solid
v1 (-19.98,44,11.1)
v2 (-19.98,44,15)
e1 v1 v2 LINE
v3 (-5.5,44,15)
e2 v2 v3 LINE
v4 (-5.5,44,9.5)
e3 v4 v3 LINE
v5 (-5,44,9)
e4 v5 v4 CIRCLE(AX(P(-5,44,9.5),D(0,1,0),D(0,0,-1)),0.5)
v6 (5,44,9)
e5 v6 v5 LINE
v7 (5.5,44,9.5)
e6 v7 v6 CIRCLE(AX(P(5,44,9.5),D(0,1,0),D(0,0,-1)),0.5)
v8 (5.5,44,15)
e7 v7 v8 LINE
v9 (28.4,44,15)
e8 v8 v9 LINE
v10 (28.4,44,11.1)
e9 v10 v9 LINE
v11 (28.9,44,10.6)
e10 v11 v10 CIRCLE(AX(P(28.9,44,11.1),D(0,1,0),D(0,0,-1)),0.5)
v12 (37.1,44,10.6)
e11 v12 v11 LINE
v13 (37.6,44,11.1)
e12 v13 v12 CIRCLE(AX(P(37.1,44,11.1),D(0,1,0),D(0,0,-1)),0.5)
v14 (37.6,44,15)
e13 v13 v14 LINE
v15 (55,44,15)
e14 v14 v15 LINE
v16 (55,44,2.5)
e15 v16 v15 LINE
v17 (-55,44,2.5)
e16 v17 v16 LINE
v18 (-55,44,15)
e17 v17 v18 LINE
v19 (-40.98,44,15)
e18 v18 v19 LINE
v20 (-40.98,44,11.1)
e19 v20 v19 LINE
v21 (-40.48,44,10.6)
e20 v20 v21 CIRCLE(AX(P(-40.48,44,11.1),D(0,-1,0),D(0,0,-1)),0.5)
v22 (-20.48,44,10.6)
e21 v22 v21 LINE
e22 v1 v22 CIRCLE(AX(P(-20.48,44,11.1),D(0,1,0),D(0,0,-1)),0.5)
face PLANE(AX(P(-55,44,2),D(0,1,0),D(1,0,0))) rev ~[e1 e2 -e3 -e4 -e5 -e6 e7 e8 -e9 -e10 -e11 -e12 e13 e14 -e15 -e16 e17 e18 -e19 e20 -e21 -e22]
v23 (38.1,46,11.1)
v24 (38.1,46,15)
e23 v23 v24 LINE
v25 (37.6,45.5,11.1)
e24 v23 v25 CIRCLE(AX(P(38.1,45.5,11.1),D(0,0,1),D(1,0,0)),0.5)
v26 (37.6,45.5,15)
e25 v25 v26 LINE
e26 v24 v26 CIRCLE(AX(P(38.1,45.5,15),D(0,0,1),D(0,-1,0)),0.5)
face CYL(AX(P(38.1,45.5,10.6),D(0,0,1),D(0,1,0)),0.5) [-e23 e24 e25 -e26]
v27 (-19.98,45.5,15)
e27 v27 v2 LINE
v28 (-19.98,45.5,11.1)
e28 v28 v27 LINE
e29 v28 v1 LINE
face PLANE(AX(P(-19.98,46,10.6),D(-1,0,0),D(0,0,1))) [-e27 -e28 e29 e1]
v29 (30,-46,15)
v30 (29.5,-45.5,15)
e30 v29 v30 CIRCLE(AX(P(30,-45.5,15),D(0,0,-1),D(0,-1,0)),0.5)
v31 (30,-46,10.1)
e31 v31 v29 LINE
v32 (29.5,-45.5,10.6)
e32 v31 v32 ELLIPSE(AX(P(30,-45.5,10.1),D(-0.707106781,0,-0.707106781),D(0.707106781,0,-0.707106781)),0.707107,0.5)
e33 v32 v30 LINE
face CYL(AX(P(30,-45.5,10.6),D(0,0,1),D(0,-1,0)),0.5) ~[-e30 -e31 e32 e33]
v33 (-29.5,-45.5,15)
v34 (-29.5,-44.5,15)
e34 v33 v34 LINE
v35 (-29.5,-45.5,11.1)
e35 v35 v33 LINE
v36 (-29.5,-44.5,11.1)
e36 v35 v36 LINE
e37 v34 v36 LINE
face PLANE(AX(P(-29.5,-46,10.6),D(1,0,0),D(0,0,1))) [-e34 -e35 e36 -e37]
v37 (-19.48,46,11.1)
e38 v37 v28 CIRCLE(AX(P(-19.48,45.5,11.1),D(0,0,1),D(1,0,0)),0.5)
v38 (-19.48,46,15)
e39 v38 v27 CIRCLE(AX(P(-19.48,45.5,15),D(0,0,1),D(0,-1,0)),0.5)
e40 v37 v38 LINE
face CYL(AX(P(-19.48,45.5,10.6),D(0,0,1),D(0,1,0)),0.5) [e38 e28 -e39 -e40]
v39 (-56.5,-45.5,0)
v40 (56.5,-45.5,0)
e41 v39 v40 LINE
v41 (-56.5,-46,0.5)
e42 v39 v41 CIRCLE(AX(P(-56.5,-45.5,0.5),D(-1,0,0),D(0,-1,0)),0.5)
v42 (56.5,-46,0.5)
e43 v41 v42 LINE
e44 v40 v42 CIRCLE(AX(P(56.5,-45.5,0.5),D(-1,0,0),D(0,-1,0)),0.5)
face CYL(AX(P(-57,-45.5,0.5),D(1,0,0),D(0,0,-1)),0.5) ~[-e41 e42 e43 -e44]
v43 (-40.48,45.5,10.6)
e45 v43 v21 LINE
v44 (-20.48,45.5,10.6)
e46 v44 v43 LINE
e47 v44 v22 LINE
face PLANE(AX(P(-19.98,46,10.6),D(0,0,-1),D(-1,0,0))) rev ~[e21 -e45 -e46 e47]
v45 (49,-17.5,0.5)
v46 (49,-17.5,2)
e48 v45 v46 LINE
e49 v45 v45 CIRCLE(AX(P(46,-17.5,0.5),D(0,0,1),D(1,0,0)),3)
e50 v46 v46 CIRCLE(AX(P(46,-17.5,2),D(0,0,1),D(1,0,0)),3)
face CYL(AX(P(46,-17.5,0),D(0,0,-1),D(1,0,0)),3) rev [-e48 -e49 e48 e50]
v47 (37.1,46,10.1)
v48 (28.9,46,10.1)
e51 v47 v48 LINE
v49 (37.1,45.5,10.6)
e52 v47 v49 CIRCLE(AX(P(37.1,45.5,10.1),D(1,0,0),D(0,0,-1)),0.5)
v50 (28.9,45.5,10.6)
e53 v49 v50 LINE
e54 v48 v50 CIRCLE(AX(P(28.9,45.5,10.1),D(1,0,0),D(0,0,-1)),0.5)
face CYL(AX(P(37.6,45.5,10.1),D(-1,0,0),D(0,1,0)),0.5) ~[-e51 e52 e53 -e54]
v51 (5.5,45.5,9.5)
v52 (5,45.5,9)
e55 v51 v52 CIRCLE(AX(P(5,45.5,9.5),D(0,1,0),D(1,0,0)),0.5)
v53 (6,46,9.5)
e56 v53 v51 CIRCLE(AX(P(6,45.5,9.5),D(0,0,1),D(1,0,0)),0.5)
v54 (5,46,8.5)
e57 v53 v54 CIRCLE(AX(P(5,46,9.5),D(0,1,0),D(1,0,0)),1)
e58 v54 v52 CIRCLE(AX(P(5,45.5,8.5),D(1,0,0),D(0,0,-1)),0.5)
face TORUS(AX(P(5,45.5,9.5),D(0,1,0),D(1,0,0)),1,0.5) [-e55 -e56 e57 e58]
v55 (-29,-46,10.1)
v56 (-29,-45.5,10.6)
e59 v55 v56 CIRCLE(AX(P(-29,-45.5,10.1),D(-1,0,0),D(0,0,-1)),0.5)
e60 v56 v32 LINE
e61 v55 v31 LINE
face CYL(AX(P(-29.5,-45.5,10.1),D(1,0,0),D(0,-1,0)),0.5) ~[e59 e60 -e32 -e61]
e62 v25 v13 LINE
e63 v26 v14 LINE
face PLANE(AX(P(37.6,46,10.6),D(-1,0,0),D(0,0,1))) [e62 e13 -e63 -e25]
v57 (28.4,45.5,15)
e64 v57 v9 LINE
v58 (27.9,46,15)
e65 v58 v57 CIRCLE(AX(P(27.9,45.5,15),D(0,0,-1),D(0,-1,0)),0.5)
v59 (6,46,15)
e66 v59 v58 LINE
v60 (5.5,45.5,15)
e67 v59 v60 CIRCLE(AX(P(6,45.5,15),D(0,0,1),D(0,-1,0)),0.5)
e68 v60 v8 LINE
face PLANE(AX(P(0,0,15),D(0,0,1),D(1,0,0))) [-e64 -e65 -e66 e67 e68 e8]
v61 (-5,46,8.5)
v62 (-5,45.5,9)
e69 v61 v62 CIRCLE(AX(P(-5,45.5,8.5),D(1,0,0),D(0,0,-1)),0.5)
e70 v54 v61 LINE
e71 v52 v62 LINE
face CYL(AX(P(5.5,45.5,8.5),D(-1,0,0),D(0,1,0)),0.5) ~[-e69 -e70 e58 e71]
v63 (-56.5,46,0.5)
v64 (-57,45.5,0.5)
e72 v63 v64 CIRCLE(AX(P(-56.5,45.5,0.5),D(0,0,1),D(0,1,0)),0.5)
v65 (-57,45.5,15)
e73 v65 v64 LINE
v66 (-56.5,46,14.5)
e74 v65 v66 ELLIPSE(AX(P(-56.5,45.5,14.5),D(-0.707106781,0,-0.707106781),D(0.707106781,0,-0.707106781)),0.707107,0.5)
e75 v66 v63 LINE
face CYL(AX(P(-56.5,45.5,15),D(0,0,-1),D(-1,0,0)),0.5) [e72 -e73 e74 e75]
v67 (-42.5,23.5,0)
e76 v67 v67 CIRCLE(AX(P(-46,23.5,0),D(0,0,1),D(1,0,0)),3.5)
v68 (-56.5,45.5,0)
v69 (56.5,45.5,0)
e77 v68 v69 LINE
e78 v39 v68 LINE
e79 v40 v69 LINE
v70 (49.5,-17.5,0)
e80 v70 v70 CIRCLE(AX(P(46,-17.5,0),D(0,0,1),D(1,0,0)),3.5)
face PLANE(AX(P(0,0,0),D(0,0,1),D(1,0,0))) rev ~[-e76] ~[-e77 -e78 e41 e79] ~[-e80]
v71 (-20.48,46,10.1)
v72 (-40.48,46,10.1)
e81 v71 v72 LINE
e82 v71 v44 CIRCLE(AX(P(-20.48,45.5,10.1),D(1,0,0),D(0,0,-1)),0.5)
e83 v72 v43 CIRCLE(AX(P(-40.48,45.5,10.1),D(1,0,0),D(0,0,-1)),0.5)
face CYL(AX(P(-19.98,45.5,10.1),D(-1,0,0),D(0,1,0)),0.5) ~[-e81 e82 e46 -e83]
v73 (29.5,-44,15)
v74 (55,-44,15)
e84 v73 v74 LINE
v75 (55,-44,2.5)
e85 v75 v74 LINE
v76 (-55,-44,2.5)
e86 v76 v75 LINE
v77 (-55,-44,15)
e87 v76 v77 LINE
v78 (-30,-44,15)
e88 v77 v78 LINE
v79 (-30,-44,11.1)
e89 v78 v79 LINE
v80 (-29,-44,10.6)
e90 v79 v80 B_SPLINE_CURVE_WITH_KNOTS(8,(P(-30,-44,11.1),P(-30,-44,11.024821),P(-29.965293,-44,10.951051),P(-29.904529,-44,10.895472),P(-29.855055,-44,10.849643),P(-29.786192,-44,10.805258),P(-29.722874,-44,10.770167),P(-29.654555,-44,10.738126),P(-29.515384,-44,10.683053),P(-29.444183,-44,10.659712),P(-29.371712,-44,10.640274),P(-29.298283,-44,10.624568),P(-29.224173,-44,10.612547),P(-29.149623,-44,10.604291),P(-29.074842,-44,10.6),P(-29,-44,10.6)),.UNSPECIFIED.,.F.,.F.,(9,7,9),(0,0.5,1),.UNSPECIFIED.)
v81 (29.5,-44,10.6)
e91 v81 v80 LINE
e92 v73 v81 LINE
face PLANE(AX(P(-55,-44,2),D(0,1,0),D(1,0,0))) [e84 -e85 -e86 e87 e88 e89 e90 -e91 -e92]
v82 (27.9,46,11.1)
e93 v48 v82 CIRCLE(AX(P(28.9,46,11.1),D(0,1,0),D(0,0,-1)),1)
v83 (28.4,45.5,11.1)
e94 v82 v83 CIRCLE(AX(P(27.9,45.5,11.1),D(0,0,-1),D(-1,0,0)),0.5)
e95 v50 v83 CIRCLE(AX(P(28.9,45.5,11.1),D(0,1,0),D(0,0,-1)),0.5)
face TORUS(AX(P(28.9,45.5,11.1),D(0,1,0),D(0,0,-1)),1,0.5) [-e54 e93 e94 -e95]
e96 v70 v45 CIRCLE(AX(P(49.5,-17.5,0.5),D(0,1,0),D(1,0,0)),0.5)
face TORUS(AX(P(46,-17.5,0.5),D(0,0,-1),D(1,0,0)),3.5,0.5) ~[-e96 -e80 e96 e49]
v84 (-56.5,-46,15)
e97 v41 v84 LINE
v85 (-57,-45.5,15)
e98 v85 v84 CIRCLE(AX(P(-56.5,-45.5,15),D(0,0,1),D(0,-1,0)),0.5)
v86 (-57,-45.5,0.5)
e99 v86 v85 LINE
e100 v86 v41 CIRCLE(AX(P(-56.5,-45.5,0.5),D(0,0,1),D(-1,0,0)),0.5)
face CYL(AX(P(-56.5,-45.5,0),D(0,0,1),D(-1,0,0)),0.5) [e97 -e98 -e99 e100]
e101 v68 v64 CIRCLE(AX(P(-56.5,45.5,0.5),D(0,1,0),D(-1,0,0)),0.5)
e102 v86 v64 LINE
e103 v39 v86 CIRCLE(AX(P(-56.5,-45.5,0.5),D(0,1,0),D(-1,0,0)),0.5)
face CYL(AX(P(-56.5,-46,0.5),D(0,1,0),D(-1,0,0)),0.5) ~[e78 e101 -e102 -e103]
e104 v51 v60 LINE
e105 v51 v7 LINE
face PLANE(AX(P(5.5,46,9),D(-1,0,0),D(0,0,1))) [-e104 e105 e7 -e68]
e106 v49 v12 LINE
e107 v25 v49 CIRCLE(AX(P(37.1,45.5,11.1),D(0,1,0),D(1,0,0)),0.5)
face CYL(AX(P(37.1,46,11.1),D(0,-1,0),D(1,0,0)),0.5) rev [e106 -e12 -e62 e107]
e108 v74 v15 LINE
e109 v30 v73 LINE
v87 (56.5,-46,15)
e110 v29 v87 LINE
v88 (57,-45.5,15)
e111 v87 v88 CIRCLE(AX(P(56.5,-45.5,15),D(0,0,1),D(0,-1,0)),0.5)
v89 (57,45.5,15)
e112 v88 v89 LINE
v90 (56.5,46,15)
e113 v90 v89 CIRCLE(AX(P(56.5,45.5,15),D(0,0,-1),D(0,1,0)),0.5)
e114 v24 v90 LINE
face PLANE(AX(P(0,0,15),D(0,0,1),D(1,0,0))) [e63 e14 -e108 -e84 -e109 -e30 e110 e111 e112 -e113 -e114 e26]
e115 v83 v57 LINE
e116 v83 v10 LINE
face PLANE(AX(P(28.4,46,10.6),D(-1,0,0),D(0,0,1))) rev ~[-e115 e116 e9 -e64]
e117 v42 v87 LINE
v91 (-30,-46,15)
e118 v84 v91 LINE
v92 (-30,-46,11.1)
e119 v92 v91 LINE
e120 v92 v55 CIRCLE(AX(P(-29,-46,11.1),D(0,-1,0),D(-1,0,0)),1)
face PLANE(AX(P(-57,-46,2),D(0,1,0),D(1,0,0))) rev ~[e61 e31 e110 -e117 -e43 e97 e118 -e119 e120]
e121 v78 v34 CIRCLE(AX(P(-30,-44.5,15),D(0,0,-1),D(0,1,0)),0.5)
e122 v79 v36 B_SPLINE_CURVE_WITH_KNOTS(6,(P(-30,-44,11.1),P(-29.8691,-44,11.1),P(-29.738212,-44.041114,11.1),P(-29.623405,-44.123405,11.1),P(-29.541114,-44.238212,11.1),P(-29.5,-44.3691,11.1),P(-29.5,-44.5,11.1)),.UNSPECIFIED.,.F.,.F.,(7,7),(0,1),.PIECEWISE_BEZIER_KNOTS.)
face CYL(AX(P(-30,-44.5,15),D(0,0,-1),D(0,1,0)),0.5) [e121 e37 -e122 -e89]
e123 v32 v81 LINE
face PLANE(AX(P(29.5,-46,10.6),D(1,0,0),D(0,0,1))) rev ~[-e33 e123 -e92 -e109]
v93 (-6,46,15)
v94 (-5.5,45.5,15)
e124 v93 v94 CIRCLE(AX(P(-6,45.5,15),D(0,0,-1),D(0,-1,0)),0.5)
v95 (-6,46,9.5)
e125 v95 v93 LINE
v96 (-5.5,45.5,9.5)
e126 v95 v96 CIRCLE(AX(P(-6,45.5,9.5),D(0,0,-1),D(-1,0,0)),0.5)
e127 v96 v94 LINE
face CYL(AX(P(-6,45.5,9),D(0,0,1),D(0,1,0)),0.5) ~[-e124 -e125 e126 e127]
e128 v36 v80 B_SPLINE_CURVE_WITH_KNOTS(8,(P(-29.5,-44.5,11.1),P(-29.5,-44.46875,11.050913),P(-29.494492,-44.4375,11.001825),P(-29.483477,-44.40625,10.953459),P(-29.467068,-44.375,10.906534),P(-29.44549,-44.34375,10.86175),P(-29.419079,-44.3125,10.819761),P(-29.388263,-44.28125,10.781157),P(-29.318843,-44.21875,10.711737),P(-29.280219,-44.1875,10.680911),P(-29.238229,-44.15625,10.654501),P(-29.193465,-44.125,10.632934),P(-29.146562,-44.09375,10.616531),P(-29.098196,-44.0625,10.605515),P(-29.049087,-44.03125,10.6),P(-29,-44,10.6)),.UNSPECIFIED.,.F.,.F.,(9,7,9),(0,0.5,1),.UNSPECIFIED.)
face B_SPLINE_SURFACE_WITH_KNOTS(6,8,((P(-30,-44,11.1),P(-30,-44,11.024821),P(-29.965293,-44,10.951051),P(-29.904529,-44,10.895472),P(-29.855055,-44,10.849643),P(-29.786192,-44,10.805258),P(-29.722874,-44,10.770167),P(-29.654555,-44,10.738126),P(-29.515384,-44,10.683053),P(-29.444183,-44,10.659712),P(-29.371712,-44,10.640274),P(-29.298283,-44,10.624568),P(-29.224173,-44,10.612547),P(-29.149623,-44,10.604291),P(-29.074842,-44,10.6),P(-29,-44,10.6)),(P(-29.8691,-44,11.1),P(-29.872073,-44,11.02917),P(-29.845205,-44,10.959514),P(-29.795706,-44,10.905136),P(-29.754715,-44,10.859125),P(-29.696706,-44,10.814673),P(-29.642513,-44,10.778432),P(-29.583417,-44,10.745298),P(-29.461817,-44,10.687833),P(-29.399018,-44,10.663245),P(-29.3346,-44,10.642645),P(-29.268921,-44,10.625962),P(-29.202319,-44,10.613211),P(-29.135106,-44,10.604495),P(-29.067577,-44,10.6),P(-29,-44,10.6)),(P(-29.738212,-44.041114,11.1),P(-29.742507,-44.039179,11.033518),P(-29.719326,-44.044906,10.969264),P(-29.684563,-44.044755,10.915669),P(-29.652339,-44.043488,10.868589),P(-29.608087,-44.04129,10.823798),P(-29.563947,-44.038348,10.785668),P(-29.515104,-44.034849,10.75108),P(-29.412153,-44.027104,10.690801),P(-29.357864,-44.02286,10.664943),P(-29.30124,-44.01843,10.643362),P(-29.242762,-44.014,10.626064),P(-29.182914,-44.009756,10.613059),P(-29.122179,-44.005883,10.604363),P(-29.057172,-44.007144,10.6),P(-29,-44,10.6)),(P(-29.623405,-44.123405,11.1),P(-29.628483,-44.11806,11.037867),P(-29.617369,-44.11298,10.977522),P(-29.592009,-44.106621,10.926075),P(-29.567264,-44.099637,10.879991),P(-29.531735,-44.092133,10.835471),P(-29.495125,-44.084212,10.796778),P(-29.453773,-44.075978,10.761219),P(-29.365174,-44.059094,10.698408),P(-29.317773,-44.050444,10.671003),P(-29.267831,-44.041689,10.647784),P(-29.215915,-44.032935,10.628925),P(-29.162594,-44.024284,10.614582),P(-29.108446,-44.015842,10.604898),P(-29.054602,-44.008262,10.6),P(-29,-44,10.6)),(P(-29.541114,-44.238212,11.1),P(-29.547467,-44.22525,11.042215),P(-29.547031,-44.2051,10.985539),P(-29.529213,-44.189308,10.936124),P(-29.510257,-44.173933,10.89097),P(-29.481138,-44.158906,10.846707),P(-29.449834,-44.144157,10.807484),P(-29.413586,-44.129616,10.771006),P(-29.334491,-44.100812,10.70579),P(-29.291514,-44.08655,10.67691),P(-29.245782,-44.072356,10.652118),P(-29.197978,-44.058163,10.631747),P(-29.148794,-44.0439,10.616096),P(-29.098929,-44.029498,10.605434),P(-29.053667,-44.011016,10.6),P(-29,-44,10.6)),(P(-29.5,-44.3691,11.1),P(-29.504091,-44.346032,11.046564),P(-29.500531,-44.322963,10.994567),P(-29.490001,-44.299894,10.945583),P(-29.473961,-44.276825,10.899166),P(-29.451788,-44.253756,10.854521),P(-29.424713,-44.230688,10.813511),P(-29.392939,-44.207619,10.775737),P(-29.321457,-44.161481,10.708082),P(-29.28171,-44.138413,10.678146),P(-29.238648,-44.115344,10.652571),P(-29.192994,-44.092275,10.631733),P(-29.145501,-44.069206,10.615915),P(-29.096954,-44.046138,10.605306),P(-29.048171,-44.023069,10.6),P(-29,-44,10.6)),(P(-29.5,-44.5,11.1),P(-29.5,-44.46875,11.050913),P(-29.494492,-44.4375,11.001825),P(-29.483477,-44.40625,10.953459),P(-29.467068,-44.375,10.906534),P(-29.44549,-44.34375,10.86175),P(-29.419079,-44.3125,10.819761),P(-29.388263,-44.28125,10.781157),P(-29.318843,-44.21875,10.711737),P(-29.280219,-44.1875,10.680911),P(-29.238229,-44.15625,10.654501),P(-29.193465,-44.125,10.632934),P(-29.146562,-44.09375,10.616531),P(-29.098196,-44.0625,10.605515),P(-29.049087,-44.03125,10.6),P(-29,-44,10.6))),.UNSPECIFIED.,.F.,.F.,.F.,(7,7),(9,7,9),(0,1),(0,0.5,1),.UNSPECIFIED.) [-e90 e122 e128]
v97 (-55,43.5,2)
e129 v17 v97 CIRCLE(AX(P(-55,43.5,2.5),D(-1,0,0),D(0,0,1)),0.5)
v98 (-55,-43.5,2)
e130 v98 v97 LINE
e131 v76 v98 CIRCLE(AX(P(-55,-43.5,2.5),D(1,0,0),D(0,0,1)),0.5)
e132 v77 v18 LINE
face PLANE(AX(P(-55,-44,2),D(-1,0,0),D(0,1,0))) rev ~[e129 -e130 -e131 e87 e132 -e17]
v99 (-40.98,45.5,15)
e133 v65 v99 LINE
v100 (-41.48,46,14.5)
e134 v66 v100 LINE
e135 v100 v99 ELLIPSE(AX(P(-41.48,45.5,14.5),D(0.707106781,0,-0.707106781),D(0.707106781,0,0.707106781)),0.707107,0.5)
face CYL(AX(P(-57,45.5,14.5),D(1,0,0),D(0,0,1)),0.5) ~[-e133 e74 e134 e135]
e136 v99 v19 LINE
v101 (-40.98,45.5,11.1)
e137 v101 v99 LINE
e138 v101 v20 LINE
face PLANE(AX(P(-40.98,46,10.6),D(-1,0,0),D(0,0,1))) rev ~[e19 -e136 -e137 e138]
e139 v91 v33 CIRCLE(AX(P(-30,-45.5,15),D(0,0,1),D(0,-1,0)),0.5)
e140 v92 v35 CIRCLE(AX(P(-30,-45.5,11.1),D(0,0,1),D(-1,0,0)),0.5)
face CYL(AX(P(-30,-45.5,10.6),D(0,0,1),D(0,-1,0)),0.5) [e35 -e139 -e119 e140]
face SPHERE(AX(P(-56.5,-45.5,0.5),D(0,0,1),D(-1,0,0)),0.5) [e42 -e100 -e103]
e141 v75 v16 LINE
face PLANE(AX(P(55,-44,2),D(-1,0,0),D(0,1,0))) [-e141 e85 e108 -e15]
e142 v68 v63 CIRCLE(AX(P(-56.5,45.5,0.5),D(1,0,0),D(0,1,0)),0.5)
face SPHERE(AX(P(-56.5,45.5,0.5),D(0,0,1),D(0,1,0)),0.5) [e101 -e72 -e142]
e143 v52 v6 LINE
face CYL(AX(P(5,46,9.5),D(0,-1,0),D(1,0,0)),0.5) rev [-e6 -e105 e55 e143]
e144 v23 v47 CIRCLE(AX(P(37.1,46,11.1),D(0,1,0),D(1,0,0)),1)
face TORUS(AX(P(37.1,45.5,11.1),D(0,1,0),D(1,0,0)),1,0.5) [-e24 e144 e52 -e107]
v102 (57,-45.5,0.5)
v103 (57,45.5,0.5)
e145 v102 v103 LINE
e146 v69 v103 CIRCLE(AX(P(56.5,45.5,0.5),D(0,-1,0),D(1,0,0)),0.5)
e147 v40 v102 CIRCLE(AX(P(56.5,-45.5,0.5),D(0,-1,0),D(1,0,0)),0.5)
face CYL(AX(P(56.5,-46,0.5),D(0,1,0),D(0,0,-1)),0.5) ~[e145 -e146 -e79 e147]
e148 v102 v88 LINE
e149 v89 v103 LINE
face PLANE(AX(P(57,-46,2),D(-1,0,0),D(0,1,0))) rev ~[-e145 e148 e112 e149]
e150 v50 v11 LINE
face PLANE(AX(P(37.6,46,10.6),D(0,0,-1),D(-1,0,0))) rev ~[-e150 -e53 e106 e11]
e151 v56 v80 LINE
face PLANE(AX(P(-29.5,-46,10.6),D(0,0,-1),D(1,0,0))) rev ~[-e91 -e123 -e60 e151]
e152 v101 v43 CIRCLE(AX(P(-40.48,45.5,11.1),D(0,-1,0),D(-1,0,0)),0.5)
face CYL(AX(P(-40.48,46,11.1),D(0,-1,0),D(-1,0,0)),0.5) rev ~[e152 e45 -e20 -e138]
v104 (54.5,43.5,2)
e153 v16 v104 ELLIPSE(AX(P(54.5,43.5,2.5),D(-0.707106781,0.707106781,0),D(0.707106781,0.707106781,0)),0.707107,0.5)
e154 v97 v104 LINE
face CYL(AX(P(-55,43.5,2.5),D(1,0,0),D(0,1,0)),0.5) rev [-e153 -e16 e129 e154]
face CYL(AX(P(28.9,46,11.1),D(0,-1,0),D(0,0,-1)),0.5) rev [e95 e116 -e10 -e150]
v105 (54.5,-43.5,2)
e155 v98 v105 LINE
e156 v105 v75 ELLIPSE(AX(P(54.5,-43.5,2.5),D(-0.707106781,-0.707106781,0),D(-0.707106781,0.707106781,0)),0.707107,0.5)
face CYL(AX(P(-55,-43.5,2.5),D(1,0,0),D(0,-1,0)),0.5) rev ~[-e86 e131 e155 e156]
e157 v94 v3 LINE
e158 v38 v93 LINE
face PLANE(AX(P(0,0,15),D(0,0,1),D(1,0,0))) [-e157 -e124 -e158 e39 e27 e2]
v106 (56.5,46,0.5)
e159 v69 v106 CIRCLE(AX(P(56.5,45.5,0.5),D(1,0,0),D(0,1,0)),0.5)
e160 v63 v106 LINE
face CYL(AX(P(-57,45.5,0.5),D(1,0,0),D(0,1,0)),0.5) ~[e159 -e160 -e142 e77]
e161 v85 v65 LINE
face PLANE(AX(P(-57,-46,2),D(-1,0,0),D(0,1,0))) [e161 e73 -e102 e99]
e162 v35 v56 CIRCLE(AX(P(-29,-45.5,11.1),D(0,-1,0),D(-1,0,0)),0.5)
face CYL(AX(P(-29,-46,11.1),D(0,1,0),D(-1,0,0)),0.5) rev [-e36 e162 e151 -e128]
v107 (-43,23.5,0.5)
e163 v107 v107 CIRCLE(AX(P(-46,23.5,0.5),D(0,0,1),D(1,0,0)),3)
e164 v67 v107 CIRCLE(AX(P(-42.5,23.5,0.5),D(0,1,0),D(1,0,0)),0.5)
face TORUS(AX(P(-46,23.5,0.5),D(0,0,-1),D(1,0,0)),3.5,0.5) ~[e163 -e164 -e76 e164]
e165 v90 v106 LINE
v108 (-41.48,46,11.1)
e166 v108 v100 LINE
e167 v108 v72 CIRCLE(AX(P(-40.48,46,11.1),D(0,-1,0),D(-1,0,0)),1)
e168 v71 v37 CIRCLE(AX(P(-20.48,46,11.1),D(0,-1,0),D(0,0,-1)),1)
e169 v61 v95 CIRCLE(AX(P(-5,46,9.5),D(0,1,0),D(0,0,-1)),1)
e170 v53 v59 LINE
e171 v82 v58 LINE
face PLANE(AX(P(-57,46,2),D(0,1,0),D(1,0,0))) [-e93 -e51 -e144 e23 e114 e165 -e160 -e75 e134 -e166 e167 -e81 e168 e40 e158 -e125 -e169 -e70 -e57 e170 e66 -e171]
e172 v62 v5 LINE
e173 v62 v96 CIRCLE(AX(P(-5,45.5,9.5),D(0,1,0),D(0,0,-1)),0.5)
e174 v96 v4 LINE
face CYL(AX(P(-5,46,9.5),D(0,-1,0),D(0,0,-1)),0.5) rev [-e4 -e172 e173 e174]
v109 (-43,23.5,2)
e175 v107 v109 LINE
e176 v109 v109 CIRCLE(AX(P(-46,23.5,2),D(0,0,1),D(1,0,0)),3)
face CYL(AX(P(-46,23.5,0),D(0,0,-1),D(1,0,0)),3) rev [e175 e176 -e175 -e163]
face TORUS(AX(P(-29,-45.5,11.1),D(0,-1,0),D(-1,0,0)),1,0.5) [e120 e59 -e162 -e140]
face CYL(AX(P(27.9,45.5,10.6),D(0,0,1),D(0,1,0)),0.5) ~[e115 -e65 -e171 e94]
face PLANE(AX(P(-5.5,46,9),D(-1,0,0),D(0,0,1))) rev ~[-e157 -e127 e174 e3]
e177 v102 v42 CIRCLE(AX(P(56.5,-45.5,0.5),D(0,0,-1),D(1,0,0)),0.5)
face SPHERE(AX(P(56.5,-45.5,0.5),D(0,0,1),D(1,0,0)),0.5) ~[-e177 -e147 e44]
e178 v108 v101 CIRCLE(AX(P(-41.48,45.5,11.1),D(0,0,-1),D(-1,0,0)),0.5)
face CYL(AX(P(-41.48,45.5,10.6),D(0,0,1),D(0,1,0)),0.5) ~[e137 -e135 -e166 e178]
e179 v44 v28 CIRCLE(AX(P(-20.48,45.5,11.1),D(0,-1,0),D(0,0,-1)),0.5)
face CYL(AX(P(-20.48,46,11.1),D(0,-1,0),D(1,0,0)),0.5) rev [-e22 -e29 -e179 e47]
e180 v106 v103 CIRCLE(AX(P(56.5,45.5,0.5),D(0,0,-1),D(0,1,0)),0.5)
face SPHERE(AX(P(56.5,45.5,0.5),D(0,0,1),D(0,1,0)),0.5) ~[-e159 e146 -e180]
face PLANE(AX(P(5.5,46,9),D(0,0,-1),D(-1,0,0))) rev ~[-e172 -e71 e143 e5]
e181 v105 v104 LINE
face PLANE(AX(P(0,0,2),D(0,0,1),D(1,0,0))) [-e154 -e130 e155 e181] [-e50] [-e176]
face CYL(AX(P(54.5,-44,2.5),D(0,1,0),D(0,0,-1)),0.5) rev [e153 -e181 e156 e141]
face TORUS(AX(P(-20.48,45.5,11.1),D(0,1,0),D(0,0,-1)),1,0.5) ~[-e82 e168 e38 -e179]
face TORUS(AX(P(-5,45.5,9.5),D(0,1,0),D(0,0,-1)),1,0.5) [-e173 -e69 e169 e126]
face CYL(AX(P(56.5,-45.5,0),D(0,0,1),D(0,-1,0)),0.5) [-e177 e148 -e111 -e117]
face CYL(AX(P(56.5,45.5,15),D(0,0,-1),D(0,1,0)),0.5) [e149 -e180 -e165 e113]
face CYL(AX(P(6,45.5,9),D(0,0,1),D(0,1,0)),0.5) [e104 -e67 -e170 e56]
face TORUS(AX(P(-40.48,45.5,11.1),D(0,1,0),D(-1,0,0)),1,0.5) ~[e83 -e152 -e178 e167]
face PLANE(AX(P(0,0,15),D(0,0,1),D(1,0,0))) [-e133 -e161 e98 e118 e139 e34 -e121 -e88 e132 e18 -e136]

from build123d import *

# Parameters (mm, degrees)
SKETCH_W        = 114
SKETCH_H        = 92
SKETCH_R        = 3
PAD_DEPTH       = 2
SKETCH001_W     = 114
SKETCH001_H     = 92
SKETCH001_W_2   = 110
SKETCH001_H_2   = 88
PAD001_DEPTH    = 13
SKETCH003_W     = 59
SKETCH003_H     = 10
POCKET_DEPTH    = 5
SKETCH004_W     = 11
SKETCH004_H     = 6.2
POCKET001_DEPTH = 5
SKETCH005_W     = 21
SKETCH005_H     = 21
POCKET002_DEPTH = 5
SKETCH006_W     = 9.2
SKETCH006_H     = 11
POCKET003_DEPTH = 5
FILLET_R        = 0.5


with BuildPart() as part:
    # Sketch → Pad (new body)
    with BuildSketch(Plane.XY):
        Rectangle(SKETCH_W, SKETCH_H)
        with Locations((-46, 23.5)):
            Circle(SKETCH_R, mode=Mode.SUBTRACT)
        with Locations((46, -17.5)):
            Circle(SKETCH_R, mode=Mode.SUBTRACT)
    extrude(amount=PAD_DEPTH)

    # Sketch001 (on Face8 of Pad) → Pad001 (join)
    with BuildSketch(Plane.XY.offset(2)):
        Rectangle(SKETCH001_W, SKETCH001_H)
        Rectangle(SKETCH001_W_2, SKETCH001_H_2, mode=Mode.SUBTRACT)
    extrude(amount=PAD001_DEPTH)

    # Sketch003 (on Face12 of Pad001) → Pocket (cut)
    with BuildSketch(Plane.XZ.offset(46)):
        with Locations((0, 15.6)):
            Rectangle(SKETCH003_W, SKETCH003_H)
    extrude(amount=-POCKET_DEPTH, mode=Mode.SUBTRACT)

    # Sketch004 (on Face5 of Pocket) → Pocket001 (cut)
    with BuildSketch(Plane(origin=(0, 46, 0), x_dir=(-1, 0, 0), z_dir=(0, 1, 0))):
        with Locations((0, 12.1)):
            Rectangle(SKETCH004_W, SKETCH004_H)
    extrude(amount=-POCKET001_DEPTH, mode=Mode.SUBTRACT)

    # Sketch005 (on Face5 of Pocket001) → Pocket002 (cut)
    with BuildSketch(Plane(origin=(0, 46, 0), x_dir=(-1, 0, 0), z_dir=(0, 1, 0))):
        with Locations((30.48, 21.1)):
            Rectangle(SKETCH005_W, SKETCH005_H)
    extrude(amount=-POCKET002_DEPTH, mode=Mode.SUBTRACT)

    # Sketch006 (on Face5 of Pocket002) → Pocket003 (cut)
    with BuildSketch(Plane(origin=(0, 46, 0), x_dir=(-1, 0, 0), z_dir=(0, 1, 0))):
        with Locations((-33, 16.1)):
            Rectangle(SKETCH006_W, SKETCH006_H)
    extrude(amount=-POCKET003_DEPTH, mode=Mode.SUBTRACT)

    # Fillet
    fillet_edges = [part.edges().sort_by_distance(p)[0] for p in [
        (-57, 46, 1),
        (57, 46, 1),
        (0, 46, 0),
        (-57, -46, 1),
        (-57, 0, 0),
        (57, -46, 1),
        (57, 0, 0),
        (0, -46, 0),
        (43, -17.5, 0),
        (-49, 23.5, 0),
        (57, 46, 8.5),
        (37.6, 46, 12.8),
        (33, 46, 10.6),
        (28.4, 46, 12.8),
        (5.5, 46, 12),
        (0, 46, 9),
        (-5.5, 46, 12),
        (-19.98, 46, 12.8),
        (-40.98, 46, 12.8),
        (-48.99, 46, 15),
        (-57, 46, 8.5),
        (37.6, 45, 10.6),
        (28.4, 45, 10.6),
        (5.5, 45, 9),
        (-19.98, 45, 10.6),
        (-30.48, 46, 10.6),
        (-40.98, 45, 10.6),
        (57, -46, 8.5),
        (-57, -46, 8.5),
        (0, -46, 10.6),
        (29.5, -46, 12.8),
        (-29.5, -45, 10.6),
        (-29.5, -46, 12.8),
        (-29.5, -44, 12.8),
        (0, 44, 2),
        (55, 0, 2),
        (0, -44, 2),
        (-5.5, 45, 9),
    ]]
    fillet(fillet_edges, radius=FILLET_R)


solid = part.part
